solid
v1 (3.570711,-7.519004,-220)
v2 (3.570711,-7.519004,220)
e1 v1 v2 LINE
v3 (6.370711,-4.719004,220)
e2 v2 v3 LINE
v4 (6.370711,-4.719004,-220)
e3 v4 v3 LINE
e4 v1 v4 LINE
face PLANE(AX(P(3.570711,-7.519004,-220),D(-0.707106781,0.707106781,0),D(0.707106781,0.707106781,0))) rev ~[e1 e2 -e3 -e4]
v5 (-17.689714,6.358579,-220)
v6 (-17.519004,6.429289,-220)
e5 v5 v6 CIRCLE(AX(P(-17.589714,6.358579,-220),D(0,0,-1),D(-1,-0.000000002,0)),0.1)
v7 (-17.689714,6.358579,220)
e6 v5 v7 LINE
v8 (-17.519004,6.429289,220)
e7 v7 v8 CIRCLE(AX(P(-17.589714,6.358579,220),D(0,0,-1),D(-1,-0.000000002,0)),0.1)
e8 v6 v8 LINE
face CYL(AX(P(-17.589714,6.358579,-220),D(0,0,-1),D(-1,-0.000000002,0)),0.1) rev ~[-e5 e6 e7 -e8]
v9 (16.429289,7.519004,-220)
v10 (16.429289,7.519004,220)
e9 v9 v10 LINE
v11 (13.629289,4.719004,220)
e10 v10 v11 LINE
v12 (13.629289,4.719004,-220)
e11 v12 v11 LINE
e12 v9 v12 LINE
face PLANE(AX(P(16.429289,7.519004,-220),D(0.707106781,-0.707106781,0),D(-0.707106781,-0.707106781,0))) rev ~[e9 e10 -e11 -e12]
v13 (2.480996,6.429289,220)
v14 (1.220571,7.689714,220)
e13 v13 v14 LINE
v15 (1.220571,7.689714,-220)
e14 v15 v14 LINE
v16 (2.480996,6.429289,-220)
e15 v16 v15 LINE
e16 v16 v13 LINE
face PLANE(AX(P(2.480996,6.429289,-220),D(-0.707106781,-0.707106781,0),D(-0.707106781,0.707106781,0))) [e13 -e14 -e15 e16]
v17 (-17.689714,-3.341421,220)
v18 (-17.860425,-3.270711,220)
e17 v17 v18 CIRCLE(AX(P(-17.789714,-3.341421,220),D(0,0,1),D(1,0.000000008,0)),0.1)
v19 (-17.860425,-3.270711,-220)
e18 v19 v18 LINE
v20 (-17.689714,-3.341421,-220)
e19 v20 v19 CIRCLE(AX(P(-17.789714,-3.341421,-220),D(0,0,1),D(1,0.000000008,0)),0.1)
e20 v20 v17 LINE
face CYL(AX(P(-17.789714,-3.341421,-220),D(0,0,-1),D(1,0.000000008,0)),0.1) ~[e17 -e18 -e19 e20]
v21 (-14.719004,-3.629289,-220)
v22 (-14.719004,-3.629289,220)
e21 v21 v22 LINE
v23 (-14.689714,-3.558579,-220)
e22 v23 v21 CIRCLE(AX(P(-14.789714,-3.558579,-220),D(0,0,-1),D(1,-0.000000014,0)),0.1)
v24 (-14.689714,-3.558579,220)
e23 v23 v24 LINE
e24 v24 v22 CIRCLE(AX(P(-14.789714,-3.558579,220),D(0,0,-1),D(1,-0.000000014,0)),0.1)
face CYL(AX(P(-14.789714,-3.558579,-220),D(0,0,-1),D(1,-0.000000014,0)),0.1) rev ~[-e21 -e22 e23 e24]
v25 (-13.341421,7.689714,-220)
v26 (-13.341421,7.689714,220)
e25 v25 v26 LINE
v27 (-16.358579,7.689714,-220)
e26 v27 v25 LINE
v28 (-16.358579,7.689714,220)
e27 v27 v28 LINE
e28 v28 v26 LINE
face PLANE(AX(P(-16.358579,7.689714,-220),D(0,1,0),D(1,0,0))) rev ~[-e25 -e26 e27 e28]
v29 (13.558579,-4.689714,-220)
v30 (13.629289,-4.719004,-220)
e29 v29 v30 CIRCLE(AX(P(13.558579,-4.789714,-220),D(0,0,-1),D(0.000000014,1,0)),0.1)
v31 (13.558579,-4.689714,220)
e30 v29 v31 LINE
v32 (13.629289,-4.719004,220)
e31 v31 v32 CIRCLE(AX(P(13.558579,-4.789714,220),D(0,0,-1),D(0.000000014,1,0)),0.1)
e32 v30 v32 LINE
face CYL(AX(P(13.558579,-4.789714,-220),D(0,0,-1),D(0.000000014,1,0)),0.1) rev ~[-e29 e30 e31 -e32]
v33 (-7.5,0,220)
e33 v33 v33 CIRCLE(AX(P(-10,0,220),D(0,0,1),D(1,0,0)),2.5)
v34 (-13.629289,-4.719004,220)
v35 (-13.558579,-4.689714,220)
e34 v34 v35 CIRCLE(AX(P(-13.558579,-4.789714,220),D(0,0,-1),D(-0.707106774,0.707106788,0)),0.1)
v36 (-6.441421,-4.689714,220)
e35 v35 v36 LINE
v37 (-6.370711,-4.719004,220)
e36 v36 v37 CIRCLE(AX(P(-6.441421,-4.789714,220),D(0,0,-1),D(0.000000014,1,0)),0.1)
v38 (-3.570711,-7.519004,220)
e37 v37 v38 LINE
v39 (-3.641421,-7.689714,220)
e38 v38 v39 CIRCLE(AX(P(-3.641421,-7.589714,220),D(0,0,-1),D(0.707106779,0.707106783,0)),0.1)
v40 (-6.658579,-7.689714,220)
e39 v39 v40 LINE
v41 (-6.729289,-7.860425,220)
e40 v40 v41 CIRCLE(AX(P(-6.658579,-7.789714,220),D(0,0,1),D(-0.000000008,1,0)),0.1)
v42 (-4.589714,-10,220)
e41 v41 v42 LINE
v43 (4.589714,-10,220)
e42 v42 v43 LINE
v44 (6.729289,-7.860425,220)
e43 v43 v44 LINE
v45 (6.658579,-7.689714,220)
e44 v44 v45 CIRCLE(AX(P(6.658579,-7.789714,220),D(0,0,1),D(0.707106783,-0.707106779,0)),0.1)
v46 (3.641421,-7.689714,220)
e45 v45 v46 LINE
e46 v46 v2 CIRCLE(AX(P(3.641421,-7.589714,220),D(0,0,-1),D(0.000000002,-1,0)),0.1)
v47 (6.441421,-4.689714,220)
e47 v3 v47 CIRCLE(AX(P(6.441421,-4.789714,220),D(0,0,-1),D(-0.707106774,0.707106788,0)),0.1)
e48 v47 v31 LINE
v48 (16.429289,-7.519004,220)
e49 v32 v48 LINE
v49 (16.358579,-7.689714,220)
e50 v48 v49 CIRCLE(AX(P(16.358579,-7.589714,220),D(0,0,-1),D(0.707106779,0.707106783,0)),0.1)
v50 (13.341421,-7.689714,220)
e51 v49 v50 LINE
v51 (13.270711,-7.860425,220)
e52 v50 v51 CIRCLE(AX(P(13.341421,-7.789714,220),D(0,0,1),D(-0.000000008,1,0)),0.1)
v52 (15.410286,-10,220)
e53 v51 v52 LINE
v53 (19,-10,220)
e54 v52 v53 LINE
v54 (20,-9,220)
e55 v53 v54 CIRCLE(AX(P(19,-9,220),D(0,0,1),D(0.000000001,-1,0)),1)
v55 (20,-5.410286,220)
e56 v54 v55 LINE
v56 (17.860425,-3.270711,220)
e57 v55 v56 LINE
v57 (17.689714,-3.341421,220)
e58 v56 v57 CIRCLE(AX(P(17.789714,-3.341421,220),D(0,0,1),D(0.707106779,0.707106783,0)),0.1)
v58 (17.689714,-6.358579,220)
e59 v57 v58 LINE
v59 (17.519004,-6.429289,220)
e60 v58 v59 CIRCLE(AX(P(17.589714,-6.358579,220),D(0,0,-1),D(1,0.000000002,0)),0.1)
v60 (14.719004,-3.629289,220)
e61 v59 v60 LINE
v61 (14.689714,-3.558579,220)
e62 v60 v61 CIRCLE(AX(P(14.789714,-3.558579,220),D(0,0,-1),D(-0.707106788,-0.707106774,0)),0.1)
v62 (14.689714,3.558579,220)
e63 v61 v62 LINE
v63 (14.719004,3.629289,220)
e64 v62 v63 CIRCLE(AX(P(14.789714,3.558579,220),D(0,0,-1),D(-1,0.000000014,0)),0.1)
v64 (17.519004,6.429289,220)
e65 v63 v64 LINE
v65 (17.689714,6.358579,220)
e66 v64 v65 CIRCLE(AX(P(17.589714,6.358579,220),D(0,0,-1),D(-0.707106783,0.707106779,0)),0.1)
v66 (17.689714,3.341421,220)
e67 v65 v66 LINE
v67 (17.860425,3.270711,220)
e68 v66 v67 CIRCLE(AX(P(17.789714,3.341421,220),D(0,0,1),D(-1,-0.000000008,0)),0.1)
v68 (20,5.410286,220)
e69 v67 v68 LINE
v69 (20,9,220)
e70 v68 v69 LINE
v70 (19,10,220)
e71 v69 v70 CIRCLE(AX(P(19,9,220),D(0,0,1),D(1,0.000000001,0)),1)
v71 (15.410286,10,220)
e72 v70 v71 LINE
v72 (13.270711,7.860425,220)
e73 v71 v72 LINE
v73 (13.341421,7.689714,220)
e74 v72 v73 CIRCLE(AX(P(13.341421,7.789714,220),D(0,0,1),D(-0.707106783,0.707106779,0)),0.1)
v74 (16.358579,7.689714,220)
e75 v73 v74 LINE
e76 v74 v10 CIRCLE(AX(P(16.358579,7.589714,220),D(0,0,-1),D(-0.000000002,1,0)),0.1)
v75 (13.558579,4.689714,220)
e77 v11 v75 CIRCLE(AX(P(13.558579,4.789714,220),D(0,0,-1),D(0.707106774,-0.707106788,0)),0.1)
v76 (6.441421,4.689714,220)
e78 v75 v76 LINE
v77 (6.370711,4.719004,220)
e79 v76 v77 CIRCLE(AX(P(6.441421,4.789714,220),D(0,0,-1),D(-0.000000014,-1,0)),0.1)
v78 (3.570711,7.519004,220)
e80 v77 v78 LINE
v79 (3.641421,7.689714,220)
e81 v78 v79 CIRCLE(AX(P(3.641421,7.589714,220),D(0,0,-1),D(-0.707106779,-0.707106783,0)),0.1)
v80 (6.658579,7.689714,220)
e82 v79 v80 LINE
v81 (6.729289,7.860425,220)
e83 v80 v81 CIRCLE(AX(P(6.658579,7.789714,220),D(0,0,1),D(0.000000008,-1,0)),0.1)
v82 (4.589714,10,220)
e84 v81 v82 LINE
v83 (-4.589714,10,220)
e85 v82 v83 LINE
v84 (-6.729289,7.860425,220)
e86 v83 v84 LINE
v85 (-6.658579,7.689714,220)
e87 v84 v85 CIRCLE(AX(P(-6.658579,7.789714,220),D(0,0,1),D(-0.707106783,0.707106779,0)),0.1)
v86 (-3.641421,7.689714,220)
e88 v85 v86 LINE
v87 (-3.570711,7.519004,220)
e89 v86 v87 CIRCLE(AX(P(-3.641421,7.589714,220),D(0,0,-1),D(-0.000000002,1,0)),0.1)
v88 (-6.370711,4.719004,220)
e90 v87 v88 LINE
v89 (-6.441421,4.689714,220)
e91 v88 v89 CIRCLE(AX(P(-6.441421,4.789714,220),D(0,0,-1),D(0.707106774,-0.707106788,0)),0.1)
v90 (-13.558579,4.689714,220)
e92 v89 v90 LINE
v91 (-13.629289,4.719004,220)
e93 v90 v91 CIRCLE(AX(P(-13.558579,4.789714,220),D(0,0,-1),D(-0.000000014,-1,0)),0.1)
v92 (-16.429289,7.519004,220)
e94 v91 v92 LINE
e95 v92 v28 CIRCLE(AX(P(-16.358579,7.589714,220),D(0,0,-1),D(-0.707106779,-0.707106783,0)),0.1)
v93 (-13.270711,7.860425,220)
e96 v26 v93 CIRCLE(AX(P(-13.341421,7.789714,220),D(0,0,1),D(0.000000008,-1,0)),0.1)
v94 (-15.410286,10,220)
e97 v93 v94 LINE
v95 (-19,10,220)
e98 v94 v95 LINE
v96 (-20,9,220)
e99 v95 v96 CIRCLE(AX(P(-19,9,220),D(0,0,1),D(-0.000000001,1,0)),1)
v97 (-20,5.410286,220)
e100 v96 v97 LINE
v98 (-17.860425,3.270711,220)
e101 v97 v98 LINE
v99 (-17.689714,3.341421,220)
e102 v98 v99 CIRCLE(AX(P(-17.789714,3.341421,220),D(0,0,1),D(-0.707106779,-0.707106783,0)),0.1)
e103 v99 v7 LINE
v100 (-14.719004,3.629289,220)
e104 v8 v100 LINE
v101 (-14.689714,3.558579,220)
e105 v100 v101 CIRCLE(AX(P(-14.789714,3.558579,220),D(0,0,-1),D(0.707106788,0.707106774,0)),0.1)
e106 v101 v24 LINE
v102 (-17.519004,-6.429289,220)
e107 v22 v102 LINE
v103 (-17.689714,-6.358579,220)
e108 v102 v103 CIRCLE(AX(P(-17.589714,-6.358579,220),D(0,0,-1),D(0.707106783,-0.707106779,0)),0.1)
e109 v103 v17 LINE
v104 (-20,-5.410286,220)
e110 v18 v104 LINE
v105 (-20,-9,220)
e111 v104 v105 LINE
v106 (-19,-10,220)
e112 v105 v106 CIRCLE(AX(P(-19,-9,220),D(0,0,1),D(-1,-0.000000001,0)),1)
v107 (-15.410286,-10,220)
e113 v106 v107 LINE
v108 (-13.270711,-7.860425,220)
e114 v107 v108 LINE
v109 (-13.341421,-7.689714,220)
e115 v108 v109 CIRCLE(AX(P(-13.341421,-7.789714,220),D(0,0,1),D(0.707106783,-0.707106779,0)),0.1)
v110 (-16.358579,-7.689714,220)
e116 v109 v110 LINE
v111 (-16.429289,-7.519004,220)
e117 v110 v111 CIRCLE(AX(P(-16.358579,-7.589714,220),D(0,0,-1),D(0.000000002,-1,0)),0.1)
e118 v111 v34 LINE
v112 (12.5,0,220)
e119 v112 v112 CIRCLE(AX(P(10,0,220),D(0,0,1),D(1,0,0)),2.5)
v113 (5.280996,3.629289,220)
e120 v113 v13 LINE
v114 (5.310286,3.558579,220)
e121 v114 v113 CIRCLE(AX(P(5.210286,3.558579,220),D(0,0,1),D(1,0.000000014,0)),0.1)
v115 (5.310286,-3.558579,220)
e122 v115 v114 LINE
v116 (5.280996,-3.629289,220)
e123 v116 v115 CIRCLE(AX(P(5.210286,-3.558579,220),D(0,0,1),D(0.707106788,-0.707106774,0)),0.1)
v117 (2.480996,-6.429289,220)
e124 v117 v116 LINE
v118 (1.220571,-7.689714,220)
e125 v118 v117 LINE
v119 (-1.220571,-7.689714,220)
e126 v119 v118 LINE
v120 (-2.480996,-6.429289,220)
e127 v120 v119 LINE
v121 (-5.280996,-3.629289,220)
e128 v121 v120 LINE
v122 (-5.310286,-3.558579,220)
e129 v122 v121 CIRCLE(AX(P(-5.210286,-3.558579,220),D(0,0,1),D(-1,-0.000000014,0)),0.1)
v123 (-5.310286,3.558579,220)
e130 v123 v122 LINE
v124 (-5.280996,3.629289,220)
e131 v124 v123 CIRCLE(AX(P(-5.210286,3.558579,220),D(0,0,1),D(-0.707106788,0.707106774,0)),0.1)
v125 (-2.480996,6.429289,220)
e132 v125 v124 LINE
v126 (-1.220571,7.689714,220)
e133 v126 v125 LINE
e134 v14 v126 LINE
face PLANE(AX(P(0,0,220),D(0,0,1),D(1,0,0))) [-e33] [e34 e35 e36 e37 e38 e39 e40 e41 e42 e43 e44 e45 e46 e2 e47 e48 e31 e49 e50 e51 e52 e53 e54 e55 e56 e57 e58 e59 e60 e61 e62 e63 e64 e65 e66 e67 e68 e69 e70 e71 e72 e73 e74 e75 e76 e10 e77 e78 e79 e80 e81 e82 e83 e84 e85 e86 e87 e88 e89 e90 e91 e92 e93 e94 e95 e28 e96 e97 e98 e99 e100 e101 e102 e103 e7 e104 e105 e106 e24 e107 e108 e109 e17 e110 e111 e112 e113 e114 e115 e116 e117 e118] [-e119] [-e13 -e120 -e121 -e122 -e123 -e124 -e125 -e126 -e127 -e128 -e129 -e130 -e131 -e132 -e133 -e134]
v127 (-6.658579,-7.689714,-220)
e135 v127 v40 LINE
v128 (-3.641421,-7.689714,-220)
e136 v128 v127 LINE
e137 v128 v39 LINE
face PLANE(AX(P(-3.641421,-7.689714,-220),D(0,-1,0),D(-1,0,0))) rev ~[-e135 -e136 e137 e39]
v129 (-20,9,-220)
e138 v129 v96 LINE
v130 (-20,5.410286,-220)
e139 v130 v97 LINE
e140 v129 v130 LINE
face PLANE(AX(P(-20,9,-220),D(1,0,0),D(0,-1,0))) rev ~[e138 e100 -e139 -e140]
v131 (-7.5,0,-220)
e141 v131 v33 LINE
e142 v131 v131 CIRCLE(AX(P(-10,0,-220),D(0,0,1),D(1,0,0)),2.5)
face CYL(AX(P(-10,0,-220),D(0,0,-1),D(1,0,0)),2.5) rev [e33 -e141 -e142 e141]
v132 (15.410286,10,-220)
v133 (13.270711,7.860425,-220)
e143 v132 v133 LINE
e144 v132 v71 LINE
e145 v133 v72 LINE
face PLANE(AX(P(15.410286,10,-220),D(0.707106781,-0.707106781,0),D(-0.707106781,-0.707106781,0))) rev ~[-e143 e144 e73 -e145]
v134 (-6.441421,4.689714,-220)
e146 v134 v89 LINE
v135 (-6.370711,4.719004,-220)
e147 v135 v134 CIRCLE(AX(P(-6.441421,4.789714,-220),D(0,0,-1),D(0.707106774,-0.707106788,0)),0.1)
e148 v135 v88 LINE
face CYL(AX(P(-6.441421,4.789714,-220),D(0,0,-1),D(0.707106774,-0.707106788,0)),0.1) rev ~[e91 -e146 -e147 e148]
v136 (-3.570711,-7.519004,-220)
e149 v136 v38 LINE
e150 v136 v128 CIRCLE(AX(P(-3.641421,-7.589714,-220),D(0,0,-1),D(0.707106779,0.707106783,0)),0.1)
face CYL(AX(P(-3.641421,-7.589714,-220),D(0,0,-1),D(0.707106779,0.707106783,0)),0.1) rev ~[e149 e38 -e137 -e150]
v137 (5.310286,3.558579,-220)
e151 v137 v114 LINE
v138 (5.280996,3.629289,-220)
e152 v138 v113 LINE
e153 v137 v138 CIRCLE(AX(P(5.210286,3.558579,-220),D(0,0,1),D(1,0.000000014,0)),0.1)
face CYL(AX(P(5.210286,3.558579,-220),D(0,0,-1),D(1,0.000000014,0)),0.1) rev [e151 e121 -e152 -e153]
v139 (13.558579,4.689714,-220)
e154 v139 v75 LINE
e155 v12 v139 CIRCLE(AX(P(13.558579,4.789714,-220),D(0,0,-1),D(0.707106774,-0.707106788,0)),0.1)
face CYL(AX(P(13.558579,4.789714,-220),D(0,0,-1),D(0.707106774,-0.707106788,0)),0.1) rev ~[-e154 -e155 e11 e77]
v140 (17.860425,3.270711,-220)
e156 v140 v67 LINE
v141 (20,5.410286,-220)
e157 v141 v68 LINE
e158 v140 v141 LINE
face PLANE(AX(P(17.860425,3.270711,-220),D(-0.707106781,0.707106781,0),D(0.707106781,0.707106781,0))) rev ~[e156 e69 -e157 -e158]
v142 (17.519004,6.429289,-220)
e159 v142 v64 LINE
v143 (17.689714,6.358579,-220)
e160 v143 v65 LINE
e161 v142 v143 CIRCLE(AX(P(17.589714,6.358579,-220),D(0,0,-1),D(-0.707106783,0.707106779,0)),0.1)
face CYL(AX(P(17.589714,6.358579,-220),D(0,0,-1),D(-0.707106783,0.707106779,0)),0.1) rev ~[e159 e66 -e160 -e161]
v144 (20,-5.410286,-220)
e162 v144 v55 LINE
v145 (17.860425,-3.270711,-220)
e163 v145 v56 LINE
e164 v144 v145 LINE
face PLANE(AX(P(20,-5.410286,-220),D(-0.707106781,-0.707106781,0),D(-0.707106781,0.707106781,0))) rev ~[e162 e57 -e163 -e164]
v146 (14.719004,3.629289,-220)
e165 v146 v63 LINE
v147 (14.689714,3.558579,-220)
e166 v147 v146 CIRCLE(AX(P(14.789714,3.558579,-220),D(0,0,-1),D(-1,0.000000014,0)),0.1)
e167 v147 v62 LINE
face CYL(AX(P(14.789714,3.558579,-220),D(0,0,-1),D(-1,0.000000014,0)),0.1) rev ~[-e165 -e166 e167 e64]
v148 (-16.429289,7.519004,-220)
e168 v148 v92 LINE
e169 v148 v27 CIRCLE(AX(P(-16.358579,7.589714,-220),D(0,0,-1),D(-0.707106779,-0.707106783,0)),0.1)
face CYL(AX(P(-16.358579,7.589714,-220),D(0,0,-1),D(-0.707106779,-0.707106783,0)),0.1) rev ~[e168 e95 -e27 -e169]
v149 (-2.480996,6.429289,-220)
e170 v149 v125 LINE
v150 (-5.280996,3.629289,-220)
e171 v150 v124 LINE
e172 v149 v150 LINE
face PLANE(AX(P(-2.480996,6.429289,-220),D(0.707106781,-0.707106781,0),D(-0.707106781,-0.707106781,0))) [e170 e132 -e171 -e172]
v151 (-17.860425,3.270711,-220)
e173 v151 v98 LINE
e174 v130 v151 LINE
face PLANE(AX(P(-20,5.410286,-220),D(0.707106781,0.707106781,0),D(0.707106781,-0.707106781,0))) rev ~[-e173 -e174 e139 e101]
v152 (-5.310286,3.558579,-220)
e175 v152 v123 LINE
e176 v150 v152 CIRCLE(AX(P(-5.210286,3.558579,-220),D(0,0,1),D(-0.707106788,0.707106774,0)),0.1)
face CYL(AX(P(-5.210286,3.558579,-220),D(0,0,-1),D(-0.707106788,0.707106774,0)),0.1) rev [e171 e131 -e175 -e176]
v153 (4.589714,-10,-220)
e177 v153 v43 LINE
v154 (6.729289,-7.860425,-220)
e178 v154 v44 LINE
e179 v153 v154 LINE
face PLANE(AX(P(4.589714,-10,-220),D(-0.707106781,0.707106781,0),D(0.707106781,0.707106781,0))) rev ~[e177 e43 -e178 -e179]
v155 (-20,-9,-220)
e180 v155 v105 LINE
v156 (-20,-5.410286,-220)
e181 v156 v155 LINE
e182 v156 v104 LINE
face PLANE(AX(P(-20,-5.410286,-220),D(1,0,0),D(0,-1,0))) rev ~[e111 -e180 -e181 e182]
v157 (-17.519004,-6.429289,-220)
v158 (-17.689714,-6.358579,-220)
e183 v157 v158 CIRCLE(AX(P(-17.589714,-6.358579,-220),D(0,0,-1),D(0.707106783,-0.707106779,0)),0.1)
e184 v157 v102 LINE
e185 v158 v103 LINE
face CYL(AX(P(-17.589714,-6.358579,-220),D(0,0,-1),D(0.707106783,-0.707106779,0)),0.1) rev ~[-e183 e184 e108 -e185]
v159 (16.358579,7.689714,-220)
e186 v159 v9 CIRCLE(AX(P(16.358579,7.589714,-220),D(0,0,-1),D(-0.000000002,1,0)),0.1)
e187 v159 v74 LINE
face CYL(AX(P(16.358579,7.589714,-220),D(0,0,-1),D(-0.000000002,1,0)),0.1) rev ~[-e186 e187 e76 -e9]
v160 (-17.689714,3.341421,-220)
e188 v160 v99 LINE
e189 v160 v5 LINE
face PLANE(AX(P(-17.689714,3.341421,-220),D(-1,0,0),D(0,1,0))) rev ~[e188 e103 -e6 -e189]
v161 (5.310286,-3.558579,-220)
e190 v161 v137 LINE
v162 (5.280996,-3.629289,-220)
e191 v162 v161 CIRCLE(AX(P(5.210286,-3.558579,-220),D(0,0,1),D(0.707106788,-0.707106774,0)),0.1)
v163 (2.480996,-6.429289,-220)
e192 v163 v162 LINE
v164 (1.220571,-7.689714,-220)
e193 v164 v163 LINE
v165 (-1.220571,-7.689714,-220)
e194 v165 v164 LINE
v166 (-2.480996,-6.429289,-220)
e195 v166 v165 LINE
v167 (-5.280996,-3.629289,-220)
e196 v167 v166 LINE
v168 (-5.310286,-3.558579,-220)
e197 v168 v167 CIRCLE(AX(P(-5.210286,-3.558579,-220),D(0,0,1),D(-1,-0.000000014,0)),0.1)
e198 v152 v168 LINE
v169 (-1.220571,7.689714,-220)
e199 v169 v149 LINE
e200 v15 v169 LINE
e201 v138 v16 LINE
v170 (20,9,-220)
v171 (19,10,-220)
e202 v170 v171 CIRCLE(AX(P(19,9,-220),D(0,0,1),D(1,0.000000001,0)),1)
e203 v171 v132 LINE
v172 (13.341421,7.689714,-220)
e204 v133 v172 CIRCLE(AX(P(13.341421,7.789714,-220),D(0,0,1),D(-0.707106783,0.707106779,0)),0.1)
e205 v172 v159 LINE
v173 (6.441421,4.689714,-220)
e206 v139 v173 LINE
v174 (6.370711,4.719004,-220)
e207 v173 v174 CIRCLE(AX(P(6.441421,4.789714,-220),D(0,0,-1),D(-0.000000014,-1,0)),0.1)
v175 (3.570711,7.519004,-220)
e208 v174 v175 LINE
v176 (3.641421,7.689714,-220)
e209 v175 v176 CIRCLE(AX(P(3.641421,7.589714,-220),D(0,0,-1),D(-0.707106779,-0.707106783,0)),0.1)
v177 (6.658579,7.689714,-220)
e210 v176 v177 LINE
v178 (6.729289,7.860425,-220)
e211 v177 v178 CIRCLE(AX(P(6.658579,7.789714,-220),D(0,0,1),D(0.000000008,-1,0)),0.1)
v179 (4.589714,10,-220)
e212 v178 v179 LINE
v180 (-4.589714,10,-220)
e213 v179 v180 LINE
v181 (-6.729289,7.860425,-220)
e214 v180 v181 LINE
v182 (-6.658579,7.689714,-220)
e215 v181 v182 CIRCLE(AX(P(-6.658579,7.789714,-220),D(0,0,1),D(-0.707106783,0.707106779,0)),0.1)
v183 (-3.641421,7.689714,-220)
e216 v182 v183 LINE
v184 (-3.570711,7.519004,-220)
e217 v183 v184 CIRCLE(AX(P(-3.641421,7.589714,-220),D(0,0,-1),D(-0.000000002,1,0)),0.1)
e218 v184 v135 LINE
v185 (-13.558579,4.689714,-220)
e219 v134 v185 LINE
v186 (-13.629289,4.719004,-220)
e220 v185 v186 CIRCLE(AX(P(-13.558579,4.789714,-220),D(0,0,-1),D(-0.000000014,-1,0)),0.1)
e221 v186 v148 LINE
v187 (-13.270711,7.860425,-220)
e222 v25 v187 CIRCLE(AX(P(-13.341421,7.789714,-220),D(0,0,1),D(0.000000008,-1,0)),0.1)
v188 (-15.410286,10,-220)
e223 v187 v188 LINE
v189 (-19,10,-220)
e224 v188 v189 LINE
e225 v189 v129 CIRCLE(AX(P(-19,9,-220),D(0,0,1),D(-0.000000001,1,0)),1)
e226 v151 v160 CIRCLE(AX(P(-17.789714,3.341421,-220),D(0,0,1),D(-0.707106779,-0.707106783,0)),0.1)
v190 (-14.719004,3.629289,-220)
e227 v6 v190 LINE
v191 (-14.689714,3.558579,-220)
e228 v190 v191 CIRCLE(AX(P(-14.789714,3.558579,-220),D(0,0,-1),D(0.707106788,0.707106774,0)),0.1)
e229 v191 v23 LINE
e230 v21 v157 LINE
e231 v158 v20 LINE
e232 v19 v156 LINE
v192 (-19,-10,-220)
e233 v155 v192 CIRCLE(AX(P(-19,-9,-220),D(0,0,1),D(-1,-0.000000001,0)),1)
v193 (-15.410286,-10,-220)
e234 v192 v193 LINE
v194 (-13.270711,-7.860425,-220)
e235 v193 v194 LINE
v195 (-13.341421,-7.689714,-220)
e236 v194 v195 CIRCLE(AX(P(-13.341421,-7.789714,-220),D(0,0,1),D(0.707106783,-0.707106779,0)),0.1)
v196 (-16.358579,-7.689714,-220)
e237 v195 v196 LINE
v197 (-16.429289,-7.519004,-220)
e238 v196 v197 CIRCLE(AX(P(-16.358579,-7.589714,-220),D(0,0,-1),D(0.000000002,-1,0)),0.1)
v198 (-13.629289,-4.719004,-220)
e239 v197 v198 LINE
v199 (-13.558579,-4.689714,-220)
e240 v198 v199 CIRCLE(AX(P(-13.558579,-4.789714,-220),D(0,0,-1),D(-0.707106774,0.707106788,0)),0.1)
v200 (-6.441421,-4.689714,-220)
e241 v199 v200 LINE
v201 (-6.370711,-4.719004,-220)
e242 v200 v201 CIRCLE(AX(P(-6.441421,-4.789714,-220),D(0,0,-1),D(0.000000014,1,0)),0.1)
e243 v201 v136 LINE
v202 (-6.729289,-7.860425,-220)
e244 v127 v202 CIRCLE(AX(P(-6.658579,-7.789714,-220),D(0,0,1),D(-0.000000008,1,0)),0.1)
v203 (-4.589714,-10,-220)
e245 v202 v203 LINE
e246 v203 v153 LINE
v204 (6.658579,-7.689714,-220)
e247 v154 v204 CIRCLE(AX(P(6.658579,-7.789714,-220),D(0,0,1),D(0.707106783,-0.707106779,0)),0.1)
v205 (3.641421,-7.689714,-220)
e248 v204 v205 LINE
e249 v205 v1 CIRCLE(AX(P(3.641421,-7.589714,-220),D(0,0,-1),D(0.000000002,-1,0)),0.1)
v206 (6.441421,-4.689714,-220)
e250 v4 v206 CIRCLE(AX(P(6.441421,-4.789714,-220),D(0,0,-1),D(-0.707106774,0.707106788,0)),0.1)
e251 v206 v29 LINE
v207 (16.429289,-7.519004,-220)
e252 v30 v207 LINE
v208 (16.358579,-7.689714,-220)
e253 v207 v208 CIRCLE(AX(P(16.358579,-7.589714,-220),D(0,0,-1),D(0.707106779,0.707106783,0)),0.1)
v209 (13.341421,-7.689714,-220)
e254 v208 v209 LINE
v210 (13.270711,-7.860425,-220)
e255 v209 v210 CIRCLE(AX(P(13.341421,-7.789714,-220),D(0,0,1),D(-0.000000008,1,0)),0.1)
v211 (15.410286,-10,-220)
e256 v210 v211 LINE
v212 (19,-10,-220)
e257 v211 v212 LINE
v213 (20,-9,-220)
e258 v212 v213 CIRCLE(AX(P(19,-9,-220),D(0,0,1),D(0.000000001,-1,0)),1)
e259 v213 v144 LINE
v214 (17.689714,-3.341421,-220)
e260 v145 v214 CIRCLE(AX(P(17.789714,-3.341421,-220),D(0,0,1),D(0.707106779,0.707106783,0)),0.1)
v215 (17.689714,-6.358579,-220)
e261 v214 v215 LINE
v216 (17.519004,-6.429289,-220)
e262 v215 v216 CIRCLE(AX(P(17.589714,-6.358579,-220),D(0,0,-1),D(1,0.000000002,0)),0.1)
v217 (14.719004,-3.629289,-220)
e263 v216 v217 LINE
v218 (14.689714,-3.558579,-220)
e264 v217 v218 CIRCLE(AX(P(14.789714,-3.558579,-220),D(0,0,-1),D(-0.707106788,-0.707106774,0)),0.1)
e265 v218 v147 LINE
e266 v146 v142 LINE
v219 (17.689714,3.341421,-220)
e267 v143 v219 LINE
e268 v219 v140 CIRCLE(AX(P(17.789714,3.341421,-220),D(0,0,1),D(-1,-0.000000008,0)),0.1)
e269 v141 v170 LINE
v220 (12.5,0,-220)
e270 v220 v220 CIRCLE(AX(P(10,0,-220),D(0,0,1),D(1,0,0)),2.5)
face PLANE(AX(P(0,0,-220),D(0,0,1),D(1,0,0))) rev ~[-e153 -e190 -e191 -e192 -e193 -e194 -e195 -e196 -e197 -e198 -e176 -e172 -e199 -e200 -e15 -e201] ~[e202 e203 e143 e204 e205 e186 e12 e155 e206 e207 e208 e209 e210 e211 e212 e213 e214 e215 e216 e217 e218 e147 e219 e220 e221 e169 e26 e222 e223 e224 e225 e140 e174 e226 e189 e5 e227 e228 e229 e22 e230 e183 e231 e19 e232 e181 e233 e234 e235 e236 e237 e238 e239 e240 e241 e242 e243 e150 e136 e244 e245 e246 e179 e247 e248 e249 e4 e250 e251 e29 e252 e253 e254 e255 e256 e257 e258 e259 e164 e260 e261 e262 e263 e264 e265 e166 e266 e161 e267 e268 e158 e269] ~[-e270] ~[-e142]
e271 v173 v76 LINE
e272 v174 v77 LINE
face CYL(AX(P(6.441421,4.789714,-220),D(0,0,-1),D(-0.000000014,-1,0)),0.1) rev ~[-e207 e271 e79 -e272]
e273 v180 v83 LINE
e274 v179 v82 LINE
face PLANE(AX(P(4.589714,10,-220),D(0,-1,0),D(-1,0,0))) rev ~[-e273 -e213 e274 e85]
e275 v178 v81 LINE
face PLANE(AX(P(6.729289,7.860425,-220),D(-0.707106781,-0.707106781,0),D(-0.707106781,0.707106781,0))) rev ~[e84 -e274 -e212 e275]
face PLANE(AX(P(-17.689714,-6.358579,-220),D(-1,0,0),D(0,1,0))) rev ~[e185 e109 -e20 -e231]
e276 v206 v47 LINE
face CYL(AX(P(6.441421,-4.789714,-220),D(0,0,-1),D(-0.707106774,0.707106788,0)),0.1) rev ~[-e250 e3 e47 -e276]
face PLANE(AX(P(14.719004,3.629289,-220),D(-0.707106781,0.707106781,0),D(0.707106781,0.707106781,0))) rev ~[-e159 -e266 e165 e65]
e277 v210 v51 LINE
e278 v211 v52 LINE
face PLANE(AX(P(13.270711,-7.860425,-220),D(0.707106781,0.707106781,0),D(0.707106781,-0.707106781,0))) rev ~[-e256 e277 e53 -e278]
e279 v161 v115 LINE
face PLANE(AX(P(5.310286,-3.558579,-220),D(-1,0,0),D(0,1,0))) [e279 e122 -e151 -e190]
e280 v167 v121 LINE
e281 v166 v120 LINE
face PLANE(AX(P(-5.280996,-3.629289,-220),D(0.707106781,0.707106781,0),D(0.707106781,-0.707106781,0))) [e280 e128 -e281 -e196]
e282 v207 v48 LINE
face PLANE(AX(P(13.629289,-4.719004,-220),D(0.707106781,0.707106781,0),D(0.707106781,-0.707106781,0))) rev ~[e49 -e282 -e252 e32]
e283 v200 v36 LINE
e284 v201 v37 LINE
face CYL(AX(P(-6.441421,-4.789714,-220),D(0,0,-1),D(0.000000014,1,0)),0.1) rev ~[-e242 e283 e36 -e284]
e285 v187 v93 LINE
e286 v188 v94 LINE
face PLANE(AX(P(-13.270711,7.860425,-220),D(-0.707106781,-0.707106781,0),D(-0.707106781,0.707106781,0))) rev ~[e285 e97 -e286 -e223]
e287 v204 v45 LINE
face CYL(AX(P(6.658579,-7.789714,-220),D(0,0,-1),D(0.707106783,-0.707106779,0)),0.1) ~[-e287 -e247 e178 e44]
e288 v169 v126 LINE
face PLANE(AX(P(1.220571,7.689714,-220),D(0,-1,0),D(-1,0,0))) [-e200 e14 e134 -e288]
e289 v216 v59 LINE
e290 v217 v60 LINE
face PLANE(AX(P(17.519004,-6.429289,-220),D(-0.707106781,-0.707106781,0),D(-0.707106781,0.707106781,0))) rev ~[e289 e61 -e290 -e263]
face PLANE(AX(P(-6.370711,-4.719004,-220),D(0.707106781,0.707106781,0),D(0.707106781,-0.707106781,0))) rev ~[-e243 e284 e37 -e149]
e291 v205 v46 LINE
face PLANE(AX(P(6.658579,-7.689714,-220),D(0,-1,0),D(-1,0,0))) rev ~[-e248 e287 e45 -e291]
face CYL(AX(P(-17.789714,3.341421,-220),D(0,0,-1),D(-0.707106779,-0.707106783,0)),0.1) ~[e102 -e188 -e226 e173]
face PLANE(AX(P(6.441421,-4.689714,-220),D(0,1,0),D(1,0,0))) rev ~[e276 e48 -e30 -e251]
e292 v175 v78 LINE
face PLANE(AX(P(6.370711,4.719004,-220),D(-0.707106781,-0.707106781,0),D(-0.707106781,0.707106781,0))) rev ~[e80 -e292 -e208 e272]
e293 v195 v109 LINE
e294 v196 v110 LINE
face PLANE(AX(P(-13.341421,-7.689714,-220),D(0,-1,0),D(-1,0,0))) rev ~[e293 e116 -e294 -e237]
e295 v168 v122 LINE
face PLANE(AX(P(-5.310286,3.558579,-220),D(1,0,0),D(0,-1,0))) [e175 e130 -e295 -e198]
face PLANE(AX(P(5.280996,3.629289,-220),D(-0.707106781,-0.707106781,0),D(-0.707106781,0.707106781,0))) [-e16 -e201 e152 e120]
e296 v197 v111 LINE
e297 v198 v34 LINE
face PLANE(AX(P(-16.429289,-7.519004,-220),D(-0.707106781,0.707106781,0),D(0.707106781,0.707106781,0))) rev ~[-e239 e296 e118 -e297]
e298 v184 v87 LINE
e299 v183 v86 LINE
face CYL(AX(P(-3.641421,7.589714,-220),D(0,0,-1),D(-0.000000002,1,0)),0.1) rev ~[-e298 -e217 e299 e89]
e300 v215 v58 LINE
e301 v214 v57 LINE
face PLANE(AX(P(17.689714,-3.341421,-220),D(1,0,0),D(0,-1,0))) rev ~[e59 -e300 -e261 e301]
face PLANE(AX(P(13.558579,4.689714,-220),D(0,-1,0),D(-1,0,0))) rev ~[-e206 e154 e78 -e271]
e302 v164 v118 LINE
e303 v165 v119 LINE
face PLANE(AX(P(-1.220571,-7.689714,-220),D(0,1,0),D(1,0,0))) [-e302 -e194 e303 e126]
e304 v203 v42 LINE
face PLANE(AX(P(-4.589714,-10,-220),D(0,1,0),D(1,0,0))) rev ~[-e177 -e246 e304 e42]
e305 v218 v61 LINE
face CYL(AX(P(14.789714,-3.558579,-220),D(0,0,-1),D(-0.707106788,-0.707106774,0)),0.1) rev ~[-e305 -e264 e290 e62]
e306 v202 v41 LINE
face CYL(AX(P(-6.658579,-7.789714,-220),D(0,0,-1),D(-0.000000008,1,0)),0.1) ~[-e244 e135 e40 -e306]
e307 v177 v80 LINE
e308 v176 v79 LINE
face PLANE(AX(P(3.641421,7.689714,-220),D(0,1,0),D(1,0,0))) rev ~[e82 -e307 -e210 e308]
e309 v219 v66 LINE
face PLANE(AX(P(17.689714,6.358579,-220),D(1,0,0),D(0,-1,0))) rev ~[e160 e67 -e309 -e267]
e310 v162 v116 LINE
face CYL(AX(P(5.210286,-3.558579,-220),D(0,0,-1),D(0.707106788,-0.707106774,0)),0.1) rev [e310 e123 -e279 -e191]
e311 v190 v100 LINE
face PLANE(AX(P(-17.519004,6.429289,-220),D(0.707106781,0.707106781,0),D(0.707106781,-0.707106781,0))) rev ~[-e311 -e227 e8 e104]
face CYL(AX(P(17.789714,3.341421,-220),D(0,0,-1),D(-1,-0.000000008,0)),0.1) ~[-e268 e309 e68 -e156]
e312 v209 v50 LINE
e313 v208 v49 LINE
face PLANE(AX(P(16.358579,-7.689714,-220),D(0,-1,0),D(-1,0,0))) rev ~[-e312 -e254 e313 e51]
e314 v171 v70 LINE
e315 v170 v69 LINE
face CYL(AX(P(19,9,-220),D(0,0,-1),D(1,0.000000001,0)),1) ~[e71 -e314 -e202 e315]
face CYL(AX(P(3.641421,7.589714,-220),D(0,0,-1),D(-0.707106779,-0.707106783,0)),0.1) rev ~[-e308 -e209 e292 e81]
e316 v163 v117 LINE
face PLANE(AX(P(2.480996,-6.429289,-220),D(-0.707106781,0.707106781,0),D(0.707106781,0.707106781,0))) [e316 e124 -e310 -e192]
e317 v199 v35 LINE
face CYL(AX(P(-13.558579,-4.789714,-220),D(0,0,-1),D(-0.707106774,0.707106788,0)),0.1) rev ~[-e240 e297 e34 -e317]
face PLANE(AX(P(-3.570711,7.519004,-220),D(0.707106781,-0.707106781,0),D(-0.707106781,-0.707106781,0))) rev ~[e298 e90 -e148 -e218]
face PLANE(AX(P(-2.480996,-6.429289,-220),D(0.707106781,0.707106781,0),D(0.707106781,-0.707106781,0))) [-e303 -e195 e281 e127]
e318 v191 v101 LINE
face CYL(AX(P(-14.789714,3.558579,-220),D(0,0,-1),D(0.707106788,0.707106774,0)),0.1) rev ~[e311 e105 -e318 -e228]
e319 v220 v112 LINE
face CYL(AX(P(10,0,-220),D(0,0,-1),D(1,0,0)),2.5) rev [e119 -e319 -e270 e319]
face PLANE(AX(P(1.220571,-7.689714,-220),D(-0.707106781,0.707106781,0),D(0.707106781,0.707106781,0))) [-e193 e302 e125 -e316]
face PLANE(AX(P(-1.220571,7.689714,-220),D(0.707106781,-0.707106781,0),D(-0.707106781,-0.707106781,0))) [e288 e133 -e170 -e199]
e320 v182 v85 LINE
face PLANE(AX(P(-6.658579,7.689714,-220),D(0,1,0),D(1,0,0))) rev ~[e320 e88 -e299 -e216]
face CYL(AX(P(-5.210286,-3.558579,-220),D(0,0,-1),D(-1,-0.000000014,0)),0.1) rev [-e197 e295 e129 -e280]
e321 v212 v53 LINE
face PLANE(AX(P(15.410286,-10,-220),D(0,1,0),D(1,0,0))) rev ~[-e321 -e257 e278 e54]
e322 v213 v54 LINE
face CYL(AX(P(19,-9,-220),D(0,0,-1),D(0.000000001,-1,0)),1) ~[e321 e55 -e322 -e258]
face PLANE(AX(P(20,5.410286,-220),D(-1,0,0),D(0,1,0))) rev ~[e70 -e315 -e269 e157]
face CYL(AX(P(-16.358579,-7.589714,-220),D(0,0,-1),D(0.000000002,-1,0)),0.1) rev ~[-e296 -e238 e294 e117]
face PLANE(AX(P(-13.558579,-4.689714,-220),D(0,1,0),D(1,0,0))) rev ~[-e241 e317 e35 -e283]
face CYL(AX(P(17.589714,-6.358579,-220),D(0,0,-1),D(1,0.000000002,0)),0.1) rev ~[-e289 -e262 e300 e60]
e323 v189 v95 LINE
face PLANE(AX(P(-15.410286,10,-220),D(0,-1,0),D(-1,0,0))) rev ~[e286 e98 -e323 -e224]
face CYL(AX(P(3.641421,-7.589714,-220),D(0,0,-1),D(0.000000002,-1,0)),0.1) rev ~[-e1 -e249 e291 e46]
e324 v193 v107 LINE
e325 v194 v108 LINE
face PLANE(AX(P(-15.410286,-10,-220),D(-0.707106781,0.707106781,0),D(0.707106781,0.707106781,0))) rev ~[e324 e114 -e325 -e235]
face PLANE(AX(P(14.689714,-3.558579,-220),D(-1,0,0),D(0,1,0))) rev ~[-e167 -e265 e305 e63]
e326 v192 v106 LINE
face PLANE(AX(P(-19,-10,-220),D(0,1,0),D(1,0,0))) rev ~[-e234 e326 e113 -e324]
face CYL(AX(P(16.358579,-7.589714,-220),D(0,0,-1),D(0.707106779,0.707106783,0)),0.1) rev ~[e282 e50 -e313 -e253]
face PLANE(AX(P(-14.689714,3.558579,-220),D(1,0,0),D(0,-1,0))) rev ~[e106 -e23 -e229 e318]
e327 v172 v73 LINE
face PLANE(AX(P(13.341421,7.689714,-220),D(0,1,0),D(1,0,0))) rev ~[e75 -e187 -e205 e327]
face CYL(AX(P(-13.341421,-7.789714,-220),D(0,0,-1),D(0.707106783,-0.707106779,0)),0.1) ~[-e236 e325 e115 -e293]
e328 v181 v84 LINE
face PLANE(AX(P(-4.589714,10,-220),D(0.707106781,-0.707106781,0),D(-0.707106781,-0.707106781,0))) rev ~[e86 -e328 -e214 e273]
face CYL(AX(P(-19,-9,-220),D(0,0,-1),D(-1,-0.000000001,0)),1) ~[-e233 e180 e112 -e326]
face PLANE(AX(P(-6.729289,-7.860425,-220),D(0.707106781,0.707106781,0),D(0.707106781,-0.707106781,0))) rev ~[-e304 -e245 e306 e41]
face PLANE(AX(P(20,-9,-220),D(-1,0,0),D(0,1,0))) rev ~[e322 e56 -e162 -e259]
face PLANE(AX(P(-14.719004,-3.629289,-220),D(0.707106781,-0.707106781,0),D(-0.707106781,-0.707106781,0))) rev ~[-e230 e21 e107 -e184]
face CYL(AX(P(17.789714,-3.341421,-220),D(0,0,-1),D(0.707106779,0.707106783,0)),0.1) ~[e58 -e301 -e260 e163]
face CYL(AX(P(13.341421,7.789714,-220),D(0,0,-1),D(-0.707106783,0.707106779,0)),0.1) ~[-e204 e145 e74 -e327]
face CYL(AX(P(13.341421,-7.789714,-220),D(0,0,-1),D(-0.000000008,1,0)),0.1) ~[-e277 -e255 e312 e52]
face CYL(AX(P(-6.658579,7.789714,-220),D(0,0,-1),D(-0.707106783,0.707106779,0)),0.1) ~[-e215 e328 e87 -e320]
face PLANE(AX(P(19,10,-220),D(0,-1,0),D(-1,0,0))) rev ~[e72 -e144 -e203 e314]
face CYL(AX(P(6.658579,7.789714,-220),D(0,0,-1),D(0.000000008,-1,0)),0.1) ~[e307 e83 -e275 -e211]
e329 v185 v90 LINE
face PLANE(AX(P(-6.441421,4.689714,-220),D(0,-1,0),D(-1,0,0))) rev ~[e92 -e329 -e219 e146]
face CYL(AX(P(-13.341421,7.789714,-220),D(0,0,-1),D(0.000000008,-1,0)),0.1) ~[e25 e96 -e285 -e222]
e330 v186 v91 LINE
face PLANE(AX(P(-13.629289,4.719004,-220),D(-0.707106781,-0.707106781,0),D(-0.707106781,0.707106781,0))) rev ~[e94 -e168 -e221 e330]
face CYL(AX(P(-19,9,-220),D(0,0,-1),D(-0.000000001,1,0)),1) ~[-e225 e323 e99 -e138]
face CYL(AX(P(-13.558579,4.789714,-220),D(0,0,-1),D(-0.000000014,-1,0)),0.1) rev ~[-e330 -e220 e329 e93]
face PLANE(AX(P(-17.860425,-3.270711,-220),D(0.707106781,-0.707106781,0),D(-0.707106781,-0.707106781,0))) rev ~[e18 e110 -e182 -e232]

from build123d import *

# Parameters (mm, degrees)
CROQUIS4_R                 = 2.5
MIEMBRO_ESTRUCTURAL1_DEPTH = 440


with BuildPart() as part:
    # Croquis4 → Miembro estructural1 (new body)
    with BuildSketch(Plane.XY.offset(-220)):
        with BuildLine():
            Line((-19, -10), (-15.410285706, -10))
            Line((-15.410285706, -10), (-13.270710678, -7.860424973))
            ThreePointArc((-13.270710678, -7.860424973), (-13.249033403, -7.751445951), (-13.341421356, -7.689714294))
            Line((-13.341421356, -7.689714294), (-16.358578644, -7.689714294))
            ThreePointArc((-16.358578644, -7.689714294), (-16.450966597, -7.627982638), (-16.429289322, -7.519003616))
            Line((-16.429289322, -7.519003616), (-13.629289322, -4.719003616))
            ThreePointArc((-13.629289322, -4.719003616), (-13.596846987, -4.697326341), (-13.558578644, -4.689714294))
            Line((-13.558578644, -4.689714294), (-6.441421356, -4.689714294))
            ThreePointArc((-6.441421356, -4.689714294), (-6.403153013, -4.697326341), (-6.370710678, -4.719003616))
            Line((-6.370710678, -4.719003616), (-3.570710678, -7.519003616))
            ThreePointArc((-3.570710678, -7.519003616), (-3.549033403, -7.627982638), (-3.641421356, -7.689714294))
            Line((-3.641421356, -7.689714294), (-6.658578644, -7.689714294))
            ThreePointArc((-6.658578644, -7.689714294), (-6.750966597, -7.751445951), (-6.729289322, -7.860424973))
            Line((-6.729289322, -7.860424973), (-4.589714294, -10))
            Line((-4.589714294, -10), (4.589714294, -10))
            Line((4.589714294, -10), (6.729289322, -7.860424973))
            ThreePointArc((6.729289322, -7.860424973), (6.750966597, -7.751445951), (6.658578644, -7.689714294))
            Line((6.658578644, -7.689714294), (3.641421356, -7.689714294))
            ThreePointArc((3.641421356, -7.689714294), (3.549033403, -7.627982638), (3.570710678, -7.519003616))
            Line((3.570710678, -7.519003616), (6.370710678, -4.719003616))
            ThreePointArc((6.370710678, -4.719003616), (6.403153013, -4.697326341), (6.441421356, -4.689714294))
            Line((6.441421356, -4.689714294), (13.558578644, -4.689714294))
            ThreePointArc((13.558578644, -4.689714294), (13.596846987, -4.697326341), (13.629289322, -4.719003616))
            Line((13.629289322, -4.719003616), (16.429289322, -7.519003616))
            ThreePointArc((16.429289322, -7.519003616), (16.450966597, -7.627982638), (16.358578644, -7.689714294))
            Line((16.358578644, -7.689714294), (13.341421356, -7.689714294))
            ThreePointArc((13.341421356, -7.689714294), (13.249033403, -7.751445951), (13.270710678, -7.860424973))
            Line((13.270710678, -7.860424973), (15.410285706, -10))
            Line((15.410285706, -10), (19, -10))
            ThreePointArc((19, -10), (19.707106781, -9.707106781), (20, -9))
            Line((20, -9), (20, -5.410285706))
            Line((20, -5.410285706), (17.860424973, -3.270710678))
            ThreePointArc((17.860424973, -3.270710678), (17.751445951, -3.249033403), (17.689714294, -3.341421356))
            Line((17.689714294, -3.341421356), (17.689714294, -6.358578644))
            ThreePointArc((17.689714294, -6.358578644), (17.627982638, -6.450966597), (17.519003616, -6.429289322))
            Line((17.519003616, -6.429289322), (14.719003616, -3.629289322))
            ThreePointArc((14.719003616, -3.629289322), (14.697326341, -3.596846987), (14.689714294, -3.558578644))
            Line((14.689714294, -3.558578644), (14.689714294, 3.558578644))
            ThreePointArc((14.689714294, 3.558578644), (14.697326341, 3.596846987), (14.719003616, 3.629289322))
            Line((14.719003616, 3.629289322), (17.519003616, 6.429289322))
            ThreePointArc((17.519003616, 6.429289322), (17.627982638, 6.450966597), (17.689714294, 6.358578644))
            Line((17.689714294, 6.358578644), (17.689714294, 3.341421356))
            ThreePointArc((17.689714294, 3.341421356), (17.751445951, 3.249033403), (17.860424973, 3.270710678))
            Line((17.860424973, 3.270710678), (20, 5.410285706))
            Line((20, 5.410285706), (20, 9))
            ThreePointArc((20, 9), (19.707106781, 9.707106781), (19, 10))
            Line((19, 10), (15.410285706, 10))
            Line((15.410285706, 10), (13.270710678, 7.860424973))
            ThreePointArc((13.270710678, 7.860424973), (13.249033403, 7.751445951), (13.341421356, 7.689714294))
            Line((13.341421356, 7.689714294), (16.358578644, 7.689714294))
            ThreePointArc((16.358578644, 7.689714294), (16.450966597, 7.627982638), (16.429289322, 7.519003616))
            Line((16.429289322, 7.519003616), (13.629289322, 4.719003616))
            ThreePointArc((13.629289322, 4.719003616), (13.596846987, 4.697326341), (13.558578644, 4.689714294))
            Line((13.558578644, 4.689714294), (6.441421356, 4.689714294))
            ThreePointArc((6.441421356, 4.689714294), (6.403153013, 4.697326341), (6.370710678, 4.719003616))
            Line((6.370710678, 4.719003616), (3.570710678, 7.519003616))
            ThreePointArc((3.570710678, 7.519003616), (3.549033403, 7.627982638), (3.641421356, 7.689714294))
            Line((3.641421356, 7.689714294), (6.658578644, 7.689714294))
            ThreePointArc((6.658578644, 7.689714294), (6.750966597, 7.751445951), (6.729289322, 7.860424973))
            Line((6.729289322, 7.860424973), (4.589714294, 10))
            Line((4.589714294, 10), (-4.589714294, 10))
            Line((-4.589714294, 10), (-6.729289322, 7.860424973))
            ThreePointArc((-6.729289322, 7.860424973), (-6.750966597, 7.751445951), (-6.658578644, 7.689714294))
            Line((-6.658578644, 7.689714294), (-3.641421356, 7.689714294))
            ThreePointArc((-3.641421356, 7.689714294), (-3.549033403, 7.627982638), (-3.570710678, 7.519003616))
            Line((-3.570710678, 7.519003616), (-6.370710678, 4.719003616))
            ThreePointArc((-6.370710678, 4.719003616), (-6.403153013, 4.697326341), (-6.441421356, 4.689714294))
            Line((-6.441421356, 4.689714294), (-13.558578644, 4.689714294))
            ThreePointArc((-13.558578644, 4.689714294), (-13.596846987, 4.697326341), (-13.629289322, 4.719003616))
            Line((-13.629289322, 4.719003616), (-16.429289322, 7.519003616))
            ThreePointArc((-16.429289322, 7.519003616), (-16.450966597, 7.627982638), (-16.358578644, 7.689714294))
            Line((-16.358578644, 7.689714294), (-13.341421356, 7.689714294))
            ThreePointArc((-13.341421356, 7.689714294), (-13.249033403, 7.751445951), (-13.270710678, 7.860424973))
            Line((-13.270710678, 7.860424973), (-15.410285706, 10))
            Line((-15.410285706, 10), (-19, 10))
            ThreePointArc((-19, 10), (-19.707106781, 9.707106781), (-20, 9))
            Line((-20, 9), (-20, 5.410285706))
            Line((-20, 5.410285706), (-17.860424973, 3.270710678))
            ThreePointArc((-17.860424973, 3.270710678), (-17.751445951, 3.249033403), (-17.689714294, 3.341421356))
            Line((-17.689714294, 3.341421356), (-17.689714294, 6.358578644))
            ThreePointArc((-17.689714294, 6.358578644), (-17.627982638, 6.450966597), (-17.519003616, 6.429289322))
            Line((-17.519003616, 6.429289322), (-14.719003616, 3.629289322))
            ThreePointArc((-14.719003616, 3.629289322), (-14.697326341, 3.596846987), (-14.689714294, 3.558578644))
            Line((-14.689714294, 3.558578644), (-14.689714294, -3.558578644))
            ThreePointArc((-14.689714294, -3.558578644), (-14.697326341, -3.596846987), (-14.719003616, -3.629289322))
            Line((-14.719003616, -3.629289322), (-17.519003616, -6.429289322))
            ThreePointArc((-17.519003616, -6.429289322), (-17.627982638, -6.450966597), (-17.689714294, -6.358578644))
            Line((-17.689714294, -6.358578644), (-17.689714294, -3.341421356))
            ThreePointArc((-17.689714294, -3.341421356), (-17.751445951, -3.249033403), (-17.860424973, -3.270710678))
            Line((-17.860424973, -3.270710678), (-20, -5.410285706))
            Line((-20, -5.410285706), (-20, -9))
            ThreePointArc((-20, -9), (-19.707106781, -9.707106781), (-19, -10))
        make_face()
        with Locations((-10, 0)):
            Circle(CROQUIS4_R, mode=Mode.SUBTRACT)
        with Locations((10, 0)):
            Circle(CROQUIS4_R, mode=Mode.SUBTRACT)
        with BuildLine():
            Line((-2.480996384, 6.429289322), (-5.280996384, 3.629289322))
            ThreePointArc((-5.280996384, 3.629289322), (-5.302673659, 3.596846987), (-5.310285706, 3.558578644))
            Line((-5.310285706, 3.558578644), (-5.310285706, -3.558578644))
            ThreePointArc((-5.310285706, -3.558578644), (-5.302673659, -3.596846987), (-5.280996384, -3.629289322))
            Line((-5.280996384, -3.629289322), (-2.480996384, -6.429289322))
            Line((-2.480996384, -6.429289322), (-1.220571411, -7.689714294))
            Line((-1.220571411, -7.689714294), (1.220571411, -7.689714294))
            Line((1.220571411, -7.689714294), (2.480996384, -6.429289322))
            Line((2.480996384, -6.429289322), (5.280996384, -3.629289322))
            ThreePointArc((5.280996384, -3.629289322), (5.302673659, -3.596846987), (5.310285706, -3.558578644))
            Line((5.310285706, -3.558578644), (5.310285706, 3.558578644))
            ThreePointArc((5.310285706, 3.558578644), (5.302673659, 3.596846987), (5.280996384, 3.629289322))
            Line((5.280996384, 3.629289322), (2.480996384, 6.429289322))
            Line((2.480996384, 6.429289322), (1.220571411, 7.689714294))
            Line((1.220571411, 7.689714294), (-1.220571411, 7.689714294))
            Line((-1.220571411, 7.689714294), (-2.480996384, 6.429289322))
        make_face(mode=Mode.SUBTRACT)
    extrude(amount=MIEMBRO_ESTRUCTURAL1_DEPTH)


solid = part.part
